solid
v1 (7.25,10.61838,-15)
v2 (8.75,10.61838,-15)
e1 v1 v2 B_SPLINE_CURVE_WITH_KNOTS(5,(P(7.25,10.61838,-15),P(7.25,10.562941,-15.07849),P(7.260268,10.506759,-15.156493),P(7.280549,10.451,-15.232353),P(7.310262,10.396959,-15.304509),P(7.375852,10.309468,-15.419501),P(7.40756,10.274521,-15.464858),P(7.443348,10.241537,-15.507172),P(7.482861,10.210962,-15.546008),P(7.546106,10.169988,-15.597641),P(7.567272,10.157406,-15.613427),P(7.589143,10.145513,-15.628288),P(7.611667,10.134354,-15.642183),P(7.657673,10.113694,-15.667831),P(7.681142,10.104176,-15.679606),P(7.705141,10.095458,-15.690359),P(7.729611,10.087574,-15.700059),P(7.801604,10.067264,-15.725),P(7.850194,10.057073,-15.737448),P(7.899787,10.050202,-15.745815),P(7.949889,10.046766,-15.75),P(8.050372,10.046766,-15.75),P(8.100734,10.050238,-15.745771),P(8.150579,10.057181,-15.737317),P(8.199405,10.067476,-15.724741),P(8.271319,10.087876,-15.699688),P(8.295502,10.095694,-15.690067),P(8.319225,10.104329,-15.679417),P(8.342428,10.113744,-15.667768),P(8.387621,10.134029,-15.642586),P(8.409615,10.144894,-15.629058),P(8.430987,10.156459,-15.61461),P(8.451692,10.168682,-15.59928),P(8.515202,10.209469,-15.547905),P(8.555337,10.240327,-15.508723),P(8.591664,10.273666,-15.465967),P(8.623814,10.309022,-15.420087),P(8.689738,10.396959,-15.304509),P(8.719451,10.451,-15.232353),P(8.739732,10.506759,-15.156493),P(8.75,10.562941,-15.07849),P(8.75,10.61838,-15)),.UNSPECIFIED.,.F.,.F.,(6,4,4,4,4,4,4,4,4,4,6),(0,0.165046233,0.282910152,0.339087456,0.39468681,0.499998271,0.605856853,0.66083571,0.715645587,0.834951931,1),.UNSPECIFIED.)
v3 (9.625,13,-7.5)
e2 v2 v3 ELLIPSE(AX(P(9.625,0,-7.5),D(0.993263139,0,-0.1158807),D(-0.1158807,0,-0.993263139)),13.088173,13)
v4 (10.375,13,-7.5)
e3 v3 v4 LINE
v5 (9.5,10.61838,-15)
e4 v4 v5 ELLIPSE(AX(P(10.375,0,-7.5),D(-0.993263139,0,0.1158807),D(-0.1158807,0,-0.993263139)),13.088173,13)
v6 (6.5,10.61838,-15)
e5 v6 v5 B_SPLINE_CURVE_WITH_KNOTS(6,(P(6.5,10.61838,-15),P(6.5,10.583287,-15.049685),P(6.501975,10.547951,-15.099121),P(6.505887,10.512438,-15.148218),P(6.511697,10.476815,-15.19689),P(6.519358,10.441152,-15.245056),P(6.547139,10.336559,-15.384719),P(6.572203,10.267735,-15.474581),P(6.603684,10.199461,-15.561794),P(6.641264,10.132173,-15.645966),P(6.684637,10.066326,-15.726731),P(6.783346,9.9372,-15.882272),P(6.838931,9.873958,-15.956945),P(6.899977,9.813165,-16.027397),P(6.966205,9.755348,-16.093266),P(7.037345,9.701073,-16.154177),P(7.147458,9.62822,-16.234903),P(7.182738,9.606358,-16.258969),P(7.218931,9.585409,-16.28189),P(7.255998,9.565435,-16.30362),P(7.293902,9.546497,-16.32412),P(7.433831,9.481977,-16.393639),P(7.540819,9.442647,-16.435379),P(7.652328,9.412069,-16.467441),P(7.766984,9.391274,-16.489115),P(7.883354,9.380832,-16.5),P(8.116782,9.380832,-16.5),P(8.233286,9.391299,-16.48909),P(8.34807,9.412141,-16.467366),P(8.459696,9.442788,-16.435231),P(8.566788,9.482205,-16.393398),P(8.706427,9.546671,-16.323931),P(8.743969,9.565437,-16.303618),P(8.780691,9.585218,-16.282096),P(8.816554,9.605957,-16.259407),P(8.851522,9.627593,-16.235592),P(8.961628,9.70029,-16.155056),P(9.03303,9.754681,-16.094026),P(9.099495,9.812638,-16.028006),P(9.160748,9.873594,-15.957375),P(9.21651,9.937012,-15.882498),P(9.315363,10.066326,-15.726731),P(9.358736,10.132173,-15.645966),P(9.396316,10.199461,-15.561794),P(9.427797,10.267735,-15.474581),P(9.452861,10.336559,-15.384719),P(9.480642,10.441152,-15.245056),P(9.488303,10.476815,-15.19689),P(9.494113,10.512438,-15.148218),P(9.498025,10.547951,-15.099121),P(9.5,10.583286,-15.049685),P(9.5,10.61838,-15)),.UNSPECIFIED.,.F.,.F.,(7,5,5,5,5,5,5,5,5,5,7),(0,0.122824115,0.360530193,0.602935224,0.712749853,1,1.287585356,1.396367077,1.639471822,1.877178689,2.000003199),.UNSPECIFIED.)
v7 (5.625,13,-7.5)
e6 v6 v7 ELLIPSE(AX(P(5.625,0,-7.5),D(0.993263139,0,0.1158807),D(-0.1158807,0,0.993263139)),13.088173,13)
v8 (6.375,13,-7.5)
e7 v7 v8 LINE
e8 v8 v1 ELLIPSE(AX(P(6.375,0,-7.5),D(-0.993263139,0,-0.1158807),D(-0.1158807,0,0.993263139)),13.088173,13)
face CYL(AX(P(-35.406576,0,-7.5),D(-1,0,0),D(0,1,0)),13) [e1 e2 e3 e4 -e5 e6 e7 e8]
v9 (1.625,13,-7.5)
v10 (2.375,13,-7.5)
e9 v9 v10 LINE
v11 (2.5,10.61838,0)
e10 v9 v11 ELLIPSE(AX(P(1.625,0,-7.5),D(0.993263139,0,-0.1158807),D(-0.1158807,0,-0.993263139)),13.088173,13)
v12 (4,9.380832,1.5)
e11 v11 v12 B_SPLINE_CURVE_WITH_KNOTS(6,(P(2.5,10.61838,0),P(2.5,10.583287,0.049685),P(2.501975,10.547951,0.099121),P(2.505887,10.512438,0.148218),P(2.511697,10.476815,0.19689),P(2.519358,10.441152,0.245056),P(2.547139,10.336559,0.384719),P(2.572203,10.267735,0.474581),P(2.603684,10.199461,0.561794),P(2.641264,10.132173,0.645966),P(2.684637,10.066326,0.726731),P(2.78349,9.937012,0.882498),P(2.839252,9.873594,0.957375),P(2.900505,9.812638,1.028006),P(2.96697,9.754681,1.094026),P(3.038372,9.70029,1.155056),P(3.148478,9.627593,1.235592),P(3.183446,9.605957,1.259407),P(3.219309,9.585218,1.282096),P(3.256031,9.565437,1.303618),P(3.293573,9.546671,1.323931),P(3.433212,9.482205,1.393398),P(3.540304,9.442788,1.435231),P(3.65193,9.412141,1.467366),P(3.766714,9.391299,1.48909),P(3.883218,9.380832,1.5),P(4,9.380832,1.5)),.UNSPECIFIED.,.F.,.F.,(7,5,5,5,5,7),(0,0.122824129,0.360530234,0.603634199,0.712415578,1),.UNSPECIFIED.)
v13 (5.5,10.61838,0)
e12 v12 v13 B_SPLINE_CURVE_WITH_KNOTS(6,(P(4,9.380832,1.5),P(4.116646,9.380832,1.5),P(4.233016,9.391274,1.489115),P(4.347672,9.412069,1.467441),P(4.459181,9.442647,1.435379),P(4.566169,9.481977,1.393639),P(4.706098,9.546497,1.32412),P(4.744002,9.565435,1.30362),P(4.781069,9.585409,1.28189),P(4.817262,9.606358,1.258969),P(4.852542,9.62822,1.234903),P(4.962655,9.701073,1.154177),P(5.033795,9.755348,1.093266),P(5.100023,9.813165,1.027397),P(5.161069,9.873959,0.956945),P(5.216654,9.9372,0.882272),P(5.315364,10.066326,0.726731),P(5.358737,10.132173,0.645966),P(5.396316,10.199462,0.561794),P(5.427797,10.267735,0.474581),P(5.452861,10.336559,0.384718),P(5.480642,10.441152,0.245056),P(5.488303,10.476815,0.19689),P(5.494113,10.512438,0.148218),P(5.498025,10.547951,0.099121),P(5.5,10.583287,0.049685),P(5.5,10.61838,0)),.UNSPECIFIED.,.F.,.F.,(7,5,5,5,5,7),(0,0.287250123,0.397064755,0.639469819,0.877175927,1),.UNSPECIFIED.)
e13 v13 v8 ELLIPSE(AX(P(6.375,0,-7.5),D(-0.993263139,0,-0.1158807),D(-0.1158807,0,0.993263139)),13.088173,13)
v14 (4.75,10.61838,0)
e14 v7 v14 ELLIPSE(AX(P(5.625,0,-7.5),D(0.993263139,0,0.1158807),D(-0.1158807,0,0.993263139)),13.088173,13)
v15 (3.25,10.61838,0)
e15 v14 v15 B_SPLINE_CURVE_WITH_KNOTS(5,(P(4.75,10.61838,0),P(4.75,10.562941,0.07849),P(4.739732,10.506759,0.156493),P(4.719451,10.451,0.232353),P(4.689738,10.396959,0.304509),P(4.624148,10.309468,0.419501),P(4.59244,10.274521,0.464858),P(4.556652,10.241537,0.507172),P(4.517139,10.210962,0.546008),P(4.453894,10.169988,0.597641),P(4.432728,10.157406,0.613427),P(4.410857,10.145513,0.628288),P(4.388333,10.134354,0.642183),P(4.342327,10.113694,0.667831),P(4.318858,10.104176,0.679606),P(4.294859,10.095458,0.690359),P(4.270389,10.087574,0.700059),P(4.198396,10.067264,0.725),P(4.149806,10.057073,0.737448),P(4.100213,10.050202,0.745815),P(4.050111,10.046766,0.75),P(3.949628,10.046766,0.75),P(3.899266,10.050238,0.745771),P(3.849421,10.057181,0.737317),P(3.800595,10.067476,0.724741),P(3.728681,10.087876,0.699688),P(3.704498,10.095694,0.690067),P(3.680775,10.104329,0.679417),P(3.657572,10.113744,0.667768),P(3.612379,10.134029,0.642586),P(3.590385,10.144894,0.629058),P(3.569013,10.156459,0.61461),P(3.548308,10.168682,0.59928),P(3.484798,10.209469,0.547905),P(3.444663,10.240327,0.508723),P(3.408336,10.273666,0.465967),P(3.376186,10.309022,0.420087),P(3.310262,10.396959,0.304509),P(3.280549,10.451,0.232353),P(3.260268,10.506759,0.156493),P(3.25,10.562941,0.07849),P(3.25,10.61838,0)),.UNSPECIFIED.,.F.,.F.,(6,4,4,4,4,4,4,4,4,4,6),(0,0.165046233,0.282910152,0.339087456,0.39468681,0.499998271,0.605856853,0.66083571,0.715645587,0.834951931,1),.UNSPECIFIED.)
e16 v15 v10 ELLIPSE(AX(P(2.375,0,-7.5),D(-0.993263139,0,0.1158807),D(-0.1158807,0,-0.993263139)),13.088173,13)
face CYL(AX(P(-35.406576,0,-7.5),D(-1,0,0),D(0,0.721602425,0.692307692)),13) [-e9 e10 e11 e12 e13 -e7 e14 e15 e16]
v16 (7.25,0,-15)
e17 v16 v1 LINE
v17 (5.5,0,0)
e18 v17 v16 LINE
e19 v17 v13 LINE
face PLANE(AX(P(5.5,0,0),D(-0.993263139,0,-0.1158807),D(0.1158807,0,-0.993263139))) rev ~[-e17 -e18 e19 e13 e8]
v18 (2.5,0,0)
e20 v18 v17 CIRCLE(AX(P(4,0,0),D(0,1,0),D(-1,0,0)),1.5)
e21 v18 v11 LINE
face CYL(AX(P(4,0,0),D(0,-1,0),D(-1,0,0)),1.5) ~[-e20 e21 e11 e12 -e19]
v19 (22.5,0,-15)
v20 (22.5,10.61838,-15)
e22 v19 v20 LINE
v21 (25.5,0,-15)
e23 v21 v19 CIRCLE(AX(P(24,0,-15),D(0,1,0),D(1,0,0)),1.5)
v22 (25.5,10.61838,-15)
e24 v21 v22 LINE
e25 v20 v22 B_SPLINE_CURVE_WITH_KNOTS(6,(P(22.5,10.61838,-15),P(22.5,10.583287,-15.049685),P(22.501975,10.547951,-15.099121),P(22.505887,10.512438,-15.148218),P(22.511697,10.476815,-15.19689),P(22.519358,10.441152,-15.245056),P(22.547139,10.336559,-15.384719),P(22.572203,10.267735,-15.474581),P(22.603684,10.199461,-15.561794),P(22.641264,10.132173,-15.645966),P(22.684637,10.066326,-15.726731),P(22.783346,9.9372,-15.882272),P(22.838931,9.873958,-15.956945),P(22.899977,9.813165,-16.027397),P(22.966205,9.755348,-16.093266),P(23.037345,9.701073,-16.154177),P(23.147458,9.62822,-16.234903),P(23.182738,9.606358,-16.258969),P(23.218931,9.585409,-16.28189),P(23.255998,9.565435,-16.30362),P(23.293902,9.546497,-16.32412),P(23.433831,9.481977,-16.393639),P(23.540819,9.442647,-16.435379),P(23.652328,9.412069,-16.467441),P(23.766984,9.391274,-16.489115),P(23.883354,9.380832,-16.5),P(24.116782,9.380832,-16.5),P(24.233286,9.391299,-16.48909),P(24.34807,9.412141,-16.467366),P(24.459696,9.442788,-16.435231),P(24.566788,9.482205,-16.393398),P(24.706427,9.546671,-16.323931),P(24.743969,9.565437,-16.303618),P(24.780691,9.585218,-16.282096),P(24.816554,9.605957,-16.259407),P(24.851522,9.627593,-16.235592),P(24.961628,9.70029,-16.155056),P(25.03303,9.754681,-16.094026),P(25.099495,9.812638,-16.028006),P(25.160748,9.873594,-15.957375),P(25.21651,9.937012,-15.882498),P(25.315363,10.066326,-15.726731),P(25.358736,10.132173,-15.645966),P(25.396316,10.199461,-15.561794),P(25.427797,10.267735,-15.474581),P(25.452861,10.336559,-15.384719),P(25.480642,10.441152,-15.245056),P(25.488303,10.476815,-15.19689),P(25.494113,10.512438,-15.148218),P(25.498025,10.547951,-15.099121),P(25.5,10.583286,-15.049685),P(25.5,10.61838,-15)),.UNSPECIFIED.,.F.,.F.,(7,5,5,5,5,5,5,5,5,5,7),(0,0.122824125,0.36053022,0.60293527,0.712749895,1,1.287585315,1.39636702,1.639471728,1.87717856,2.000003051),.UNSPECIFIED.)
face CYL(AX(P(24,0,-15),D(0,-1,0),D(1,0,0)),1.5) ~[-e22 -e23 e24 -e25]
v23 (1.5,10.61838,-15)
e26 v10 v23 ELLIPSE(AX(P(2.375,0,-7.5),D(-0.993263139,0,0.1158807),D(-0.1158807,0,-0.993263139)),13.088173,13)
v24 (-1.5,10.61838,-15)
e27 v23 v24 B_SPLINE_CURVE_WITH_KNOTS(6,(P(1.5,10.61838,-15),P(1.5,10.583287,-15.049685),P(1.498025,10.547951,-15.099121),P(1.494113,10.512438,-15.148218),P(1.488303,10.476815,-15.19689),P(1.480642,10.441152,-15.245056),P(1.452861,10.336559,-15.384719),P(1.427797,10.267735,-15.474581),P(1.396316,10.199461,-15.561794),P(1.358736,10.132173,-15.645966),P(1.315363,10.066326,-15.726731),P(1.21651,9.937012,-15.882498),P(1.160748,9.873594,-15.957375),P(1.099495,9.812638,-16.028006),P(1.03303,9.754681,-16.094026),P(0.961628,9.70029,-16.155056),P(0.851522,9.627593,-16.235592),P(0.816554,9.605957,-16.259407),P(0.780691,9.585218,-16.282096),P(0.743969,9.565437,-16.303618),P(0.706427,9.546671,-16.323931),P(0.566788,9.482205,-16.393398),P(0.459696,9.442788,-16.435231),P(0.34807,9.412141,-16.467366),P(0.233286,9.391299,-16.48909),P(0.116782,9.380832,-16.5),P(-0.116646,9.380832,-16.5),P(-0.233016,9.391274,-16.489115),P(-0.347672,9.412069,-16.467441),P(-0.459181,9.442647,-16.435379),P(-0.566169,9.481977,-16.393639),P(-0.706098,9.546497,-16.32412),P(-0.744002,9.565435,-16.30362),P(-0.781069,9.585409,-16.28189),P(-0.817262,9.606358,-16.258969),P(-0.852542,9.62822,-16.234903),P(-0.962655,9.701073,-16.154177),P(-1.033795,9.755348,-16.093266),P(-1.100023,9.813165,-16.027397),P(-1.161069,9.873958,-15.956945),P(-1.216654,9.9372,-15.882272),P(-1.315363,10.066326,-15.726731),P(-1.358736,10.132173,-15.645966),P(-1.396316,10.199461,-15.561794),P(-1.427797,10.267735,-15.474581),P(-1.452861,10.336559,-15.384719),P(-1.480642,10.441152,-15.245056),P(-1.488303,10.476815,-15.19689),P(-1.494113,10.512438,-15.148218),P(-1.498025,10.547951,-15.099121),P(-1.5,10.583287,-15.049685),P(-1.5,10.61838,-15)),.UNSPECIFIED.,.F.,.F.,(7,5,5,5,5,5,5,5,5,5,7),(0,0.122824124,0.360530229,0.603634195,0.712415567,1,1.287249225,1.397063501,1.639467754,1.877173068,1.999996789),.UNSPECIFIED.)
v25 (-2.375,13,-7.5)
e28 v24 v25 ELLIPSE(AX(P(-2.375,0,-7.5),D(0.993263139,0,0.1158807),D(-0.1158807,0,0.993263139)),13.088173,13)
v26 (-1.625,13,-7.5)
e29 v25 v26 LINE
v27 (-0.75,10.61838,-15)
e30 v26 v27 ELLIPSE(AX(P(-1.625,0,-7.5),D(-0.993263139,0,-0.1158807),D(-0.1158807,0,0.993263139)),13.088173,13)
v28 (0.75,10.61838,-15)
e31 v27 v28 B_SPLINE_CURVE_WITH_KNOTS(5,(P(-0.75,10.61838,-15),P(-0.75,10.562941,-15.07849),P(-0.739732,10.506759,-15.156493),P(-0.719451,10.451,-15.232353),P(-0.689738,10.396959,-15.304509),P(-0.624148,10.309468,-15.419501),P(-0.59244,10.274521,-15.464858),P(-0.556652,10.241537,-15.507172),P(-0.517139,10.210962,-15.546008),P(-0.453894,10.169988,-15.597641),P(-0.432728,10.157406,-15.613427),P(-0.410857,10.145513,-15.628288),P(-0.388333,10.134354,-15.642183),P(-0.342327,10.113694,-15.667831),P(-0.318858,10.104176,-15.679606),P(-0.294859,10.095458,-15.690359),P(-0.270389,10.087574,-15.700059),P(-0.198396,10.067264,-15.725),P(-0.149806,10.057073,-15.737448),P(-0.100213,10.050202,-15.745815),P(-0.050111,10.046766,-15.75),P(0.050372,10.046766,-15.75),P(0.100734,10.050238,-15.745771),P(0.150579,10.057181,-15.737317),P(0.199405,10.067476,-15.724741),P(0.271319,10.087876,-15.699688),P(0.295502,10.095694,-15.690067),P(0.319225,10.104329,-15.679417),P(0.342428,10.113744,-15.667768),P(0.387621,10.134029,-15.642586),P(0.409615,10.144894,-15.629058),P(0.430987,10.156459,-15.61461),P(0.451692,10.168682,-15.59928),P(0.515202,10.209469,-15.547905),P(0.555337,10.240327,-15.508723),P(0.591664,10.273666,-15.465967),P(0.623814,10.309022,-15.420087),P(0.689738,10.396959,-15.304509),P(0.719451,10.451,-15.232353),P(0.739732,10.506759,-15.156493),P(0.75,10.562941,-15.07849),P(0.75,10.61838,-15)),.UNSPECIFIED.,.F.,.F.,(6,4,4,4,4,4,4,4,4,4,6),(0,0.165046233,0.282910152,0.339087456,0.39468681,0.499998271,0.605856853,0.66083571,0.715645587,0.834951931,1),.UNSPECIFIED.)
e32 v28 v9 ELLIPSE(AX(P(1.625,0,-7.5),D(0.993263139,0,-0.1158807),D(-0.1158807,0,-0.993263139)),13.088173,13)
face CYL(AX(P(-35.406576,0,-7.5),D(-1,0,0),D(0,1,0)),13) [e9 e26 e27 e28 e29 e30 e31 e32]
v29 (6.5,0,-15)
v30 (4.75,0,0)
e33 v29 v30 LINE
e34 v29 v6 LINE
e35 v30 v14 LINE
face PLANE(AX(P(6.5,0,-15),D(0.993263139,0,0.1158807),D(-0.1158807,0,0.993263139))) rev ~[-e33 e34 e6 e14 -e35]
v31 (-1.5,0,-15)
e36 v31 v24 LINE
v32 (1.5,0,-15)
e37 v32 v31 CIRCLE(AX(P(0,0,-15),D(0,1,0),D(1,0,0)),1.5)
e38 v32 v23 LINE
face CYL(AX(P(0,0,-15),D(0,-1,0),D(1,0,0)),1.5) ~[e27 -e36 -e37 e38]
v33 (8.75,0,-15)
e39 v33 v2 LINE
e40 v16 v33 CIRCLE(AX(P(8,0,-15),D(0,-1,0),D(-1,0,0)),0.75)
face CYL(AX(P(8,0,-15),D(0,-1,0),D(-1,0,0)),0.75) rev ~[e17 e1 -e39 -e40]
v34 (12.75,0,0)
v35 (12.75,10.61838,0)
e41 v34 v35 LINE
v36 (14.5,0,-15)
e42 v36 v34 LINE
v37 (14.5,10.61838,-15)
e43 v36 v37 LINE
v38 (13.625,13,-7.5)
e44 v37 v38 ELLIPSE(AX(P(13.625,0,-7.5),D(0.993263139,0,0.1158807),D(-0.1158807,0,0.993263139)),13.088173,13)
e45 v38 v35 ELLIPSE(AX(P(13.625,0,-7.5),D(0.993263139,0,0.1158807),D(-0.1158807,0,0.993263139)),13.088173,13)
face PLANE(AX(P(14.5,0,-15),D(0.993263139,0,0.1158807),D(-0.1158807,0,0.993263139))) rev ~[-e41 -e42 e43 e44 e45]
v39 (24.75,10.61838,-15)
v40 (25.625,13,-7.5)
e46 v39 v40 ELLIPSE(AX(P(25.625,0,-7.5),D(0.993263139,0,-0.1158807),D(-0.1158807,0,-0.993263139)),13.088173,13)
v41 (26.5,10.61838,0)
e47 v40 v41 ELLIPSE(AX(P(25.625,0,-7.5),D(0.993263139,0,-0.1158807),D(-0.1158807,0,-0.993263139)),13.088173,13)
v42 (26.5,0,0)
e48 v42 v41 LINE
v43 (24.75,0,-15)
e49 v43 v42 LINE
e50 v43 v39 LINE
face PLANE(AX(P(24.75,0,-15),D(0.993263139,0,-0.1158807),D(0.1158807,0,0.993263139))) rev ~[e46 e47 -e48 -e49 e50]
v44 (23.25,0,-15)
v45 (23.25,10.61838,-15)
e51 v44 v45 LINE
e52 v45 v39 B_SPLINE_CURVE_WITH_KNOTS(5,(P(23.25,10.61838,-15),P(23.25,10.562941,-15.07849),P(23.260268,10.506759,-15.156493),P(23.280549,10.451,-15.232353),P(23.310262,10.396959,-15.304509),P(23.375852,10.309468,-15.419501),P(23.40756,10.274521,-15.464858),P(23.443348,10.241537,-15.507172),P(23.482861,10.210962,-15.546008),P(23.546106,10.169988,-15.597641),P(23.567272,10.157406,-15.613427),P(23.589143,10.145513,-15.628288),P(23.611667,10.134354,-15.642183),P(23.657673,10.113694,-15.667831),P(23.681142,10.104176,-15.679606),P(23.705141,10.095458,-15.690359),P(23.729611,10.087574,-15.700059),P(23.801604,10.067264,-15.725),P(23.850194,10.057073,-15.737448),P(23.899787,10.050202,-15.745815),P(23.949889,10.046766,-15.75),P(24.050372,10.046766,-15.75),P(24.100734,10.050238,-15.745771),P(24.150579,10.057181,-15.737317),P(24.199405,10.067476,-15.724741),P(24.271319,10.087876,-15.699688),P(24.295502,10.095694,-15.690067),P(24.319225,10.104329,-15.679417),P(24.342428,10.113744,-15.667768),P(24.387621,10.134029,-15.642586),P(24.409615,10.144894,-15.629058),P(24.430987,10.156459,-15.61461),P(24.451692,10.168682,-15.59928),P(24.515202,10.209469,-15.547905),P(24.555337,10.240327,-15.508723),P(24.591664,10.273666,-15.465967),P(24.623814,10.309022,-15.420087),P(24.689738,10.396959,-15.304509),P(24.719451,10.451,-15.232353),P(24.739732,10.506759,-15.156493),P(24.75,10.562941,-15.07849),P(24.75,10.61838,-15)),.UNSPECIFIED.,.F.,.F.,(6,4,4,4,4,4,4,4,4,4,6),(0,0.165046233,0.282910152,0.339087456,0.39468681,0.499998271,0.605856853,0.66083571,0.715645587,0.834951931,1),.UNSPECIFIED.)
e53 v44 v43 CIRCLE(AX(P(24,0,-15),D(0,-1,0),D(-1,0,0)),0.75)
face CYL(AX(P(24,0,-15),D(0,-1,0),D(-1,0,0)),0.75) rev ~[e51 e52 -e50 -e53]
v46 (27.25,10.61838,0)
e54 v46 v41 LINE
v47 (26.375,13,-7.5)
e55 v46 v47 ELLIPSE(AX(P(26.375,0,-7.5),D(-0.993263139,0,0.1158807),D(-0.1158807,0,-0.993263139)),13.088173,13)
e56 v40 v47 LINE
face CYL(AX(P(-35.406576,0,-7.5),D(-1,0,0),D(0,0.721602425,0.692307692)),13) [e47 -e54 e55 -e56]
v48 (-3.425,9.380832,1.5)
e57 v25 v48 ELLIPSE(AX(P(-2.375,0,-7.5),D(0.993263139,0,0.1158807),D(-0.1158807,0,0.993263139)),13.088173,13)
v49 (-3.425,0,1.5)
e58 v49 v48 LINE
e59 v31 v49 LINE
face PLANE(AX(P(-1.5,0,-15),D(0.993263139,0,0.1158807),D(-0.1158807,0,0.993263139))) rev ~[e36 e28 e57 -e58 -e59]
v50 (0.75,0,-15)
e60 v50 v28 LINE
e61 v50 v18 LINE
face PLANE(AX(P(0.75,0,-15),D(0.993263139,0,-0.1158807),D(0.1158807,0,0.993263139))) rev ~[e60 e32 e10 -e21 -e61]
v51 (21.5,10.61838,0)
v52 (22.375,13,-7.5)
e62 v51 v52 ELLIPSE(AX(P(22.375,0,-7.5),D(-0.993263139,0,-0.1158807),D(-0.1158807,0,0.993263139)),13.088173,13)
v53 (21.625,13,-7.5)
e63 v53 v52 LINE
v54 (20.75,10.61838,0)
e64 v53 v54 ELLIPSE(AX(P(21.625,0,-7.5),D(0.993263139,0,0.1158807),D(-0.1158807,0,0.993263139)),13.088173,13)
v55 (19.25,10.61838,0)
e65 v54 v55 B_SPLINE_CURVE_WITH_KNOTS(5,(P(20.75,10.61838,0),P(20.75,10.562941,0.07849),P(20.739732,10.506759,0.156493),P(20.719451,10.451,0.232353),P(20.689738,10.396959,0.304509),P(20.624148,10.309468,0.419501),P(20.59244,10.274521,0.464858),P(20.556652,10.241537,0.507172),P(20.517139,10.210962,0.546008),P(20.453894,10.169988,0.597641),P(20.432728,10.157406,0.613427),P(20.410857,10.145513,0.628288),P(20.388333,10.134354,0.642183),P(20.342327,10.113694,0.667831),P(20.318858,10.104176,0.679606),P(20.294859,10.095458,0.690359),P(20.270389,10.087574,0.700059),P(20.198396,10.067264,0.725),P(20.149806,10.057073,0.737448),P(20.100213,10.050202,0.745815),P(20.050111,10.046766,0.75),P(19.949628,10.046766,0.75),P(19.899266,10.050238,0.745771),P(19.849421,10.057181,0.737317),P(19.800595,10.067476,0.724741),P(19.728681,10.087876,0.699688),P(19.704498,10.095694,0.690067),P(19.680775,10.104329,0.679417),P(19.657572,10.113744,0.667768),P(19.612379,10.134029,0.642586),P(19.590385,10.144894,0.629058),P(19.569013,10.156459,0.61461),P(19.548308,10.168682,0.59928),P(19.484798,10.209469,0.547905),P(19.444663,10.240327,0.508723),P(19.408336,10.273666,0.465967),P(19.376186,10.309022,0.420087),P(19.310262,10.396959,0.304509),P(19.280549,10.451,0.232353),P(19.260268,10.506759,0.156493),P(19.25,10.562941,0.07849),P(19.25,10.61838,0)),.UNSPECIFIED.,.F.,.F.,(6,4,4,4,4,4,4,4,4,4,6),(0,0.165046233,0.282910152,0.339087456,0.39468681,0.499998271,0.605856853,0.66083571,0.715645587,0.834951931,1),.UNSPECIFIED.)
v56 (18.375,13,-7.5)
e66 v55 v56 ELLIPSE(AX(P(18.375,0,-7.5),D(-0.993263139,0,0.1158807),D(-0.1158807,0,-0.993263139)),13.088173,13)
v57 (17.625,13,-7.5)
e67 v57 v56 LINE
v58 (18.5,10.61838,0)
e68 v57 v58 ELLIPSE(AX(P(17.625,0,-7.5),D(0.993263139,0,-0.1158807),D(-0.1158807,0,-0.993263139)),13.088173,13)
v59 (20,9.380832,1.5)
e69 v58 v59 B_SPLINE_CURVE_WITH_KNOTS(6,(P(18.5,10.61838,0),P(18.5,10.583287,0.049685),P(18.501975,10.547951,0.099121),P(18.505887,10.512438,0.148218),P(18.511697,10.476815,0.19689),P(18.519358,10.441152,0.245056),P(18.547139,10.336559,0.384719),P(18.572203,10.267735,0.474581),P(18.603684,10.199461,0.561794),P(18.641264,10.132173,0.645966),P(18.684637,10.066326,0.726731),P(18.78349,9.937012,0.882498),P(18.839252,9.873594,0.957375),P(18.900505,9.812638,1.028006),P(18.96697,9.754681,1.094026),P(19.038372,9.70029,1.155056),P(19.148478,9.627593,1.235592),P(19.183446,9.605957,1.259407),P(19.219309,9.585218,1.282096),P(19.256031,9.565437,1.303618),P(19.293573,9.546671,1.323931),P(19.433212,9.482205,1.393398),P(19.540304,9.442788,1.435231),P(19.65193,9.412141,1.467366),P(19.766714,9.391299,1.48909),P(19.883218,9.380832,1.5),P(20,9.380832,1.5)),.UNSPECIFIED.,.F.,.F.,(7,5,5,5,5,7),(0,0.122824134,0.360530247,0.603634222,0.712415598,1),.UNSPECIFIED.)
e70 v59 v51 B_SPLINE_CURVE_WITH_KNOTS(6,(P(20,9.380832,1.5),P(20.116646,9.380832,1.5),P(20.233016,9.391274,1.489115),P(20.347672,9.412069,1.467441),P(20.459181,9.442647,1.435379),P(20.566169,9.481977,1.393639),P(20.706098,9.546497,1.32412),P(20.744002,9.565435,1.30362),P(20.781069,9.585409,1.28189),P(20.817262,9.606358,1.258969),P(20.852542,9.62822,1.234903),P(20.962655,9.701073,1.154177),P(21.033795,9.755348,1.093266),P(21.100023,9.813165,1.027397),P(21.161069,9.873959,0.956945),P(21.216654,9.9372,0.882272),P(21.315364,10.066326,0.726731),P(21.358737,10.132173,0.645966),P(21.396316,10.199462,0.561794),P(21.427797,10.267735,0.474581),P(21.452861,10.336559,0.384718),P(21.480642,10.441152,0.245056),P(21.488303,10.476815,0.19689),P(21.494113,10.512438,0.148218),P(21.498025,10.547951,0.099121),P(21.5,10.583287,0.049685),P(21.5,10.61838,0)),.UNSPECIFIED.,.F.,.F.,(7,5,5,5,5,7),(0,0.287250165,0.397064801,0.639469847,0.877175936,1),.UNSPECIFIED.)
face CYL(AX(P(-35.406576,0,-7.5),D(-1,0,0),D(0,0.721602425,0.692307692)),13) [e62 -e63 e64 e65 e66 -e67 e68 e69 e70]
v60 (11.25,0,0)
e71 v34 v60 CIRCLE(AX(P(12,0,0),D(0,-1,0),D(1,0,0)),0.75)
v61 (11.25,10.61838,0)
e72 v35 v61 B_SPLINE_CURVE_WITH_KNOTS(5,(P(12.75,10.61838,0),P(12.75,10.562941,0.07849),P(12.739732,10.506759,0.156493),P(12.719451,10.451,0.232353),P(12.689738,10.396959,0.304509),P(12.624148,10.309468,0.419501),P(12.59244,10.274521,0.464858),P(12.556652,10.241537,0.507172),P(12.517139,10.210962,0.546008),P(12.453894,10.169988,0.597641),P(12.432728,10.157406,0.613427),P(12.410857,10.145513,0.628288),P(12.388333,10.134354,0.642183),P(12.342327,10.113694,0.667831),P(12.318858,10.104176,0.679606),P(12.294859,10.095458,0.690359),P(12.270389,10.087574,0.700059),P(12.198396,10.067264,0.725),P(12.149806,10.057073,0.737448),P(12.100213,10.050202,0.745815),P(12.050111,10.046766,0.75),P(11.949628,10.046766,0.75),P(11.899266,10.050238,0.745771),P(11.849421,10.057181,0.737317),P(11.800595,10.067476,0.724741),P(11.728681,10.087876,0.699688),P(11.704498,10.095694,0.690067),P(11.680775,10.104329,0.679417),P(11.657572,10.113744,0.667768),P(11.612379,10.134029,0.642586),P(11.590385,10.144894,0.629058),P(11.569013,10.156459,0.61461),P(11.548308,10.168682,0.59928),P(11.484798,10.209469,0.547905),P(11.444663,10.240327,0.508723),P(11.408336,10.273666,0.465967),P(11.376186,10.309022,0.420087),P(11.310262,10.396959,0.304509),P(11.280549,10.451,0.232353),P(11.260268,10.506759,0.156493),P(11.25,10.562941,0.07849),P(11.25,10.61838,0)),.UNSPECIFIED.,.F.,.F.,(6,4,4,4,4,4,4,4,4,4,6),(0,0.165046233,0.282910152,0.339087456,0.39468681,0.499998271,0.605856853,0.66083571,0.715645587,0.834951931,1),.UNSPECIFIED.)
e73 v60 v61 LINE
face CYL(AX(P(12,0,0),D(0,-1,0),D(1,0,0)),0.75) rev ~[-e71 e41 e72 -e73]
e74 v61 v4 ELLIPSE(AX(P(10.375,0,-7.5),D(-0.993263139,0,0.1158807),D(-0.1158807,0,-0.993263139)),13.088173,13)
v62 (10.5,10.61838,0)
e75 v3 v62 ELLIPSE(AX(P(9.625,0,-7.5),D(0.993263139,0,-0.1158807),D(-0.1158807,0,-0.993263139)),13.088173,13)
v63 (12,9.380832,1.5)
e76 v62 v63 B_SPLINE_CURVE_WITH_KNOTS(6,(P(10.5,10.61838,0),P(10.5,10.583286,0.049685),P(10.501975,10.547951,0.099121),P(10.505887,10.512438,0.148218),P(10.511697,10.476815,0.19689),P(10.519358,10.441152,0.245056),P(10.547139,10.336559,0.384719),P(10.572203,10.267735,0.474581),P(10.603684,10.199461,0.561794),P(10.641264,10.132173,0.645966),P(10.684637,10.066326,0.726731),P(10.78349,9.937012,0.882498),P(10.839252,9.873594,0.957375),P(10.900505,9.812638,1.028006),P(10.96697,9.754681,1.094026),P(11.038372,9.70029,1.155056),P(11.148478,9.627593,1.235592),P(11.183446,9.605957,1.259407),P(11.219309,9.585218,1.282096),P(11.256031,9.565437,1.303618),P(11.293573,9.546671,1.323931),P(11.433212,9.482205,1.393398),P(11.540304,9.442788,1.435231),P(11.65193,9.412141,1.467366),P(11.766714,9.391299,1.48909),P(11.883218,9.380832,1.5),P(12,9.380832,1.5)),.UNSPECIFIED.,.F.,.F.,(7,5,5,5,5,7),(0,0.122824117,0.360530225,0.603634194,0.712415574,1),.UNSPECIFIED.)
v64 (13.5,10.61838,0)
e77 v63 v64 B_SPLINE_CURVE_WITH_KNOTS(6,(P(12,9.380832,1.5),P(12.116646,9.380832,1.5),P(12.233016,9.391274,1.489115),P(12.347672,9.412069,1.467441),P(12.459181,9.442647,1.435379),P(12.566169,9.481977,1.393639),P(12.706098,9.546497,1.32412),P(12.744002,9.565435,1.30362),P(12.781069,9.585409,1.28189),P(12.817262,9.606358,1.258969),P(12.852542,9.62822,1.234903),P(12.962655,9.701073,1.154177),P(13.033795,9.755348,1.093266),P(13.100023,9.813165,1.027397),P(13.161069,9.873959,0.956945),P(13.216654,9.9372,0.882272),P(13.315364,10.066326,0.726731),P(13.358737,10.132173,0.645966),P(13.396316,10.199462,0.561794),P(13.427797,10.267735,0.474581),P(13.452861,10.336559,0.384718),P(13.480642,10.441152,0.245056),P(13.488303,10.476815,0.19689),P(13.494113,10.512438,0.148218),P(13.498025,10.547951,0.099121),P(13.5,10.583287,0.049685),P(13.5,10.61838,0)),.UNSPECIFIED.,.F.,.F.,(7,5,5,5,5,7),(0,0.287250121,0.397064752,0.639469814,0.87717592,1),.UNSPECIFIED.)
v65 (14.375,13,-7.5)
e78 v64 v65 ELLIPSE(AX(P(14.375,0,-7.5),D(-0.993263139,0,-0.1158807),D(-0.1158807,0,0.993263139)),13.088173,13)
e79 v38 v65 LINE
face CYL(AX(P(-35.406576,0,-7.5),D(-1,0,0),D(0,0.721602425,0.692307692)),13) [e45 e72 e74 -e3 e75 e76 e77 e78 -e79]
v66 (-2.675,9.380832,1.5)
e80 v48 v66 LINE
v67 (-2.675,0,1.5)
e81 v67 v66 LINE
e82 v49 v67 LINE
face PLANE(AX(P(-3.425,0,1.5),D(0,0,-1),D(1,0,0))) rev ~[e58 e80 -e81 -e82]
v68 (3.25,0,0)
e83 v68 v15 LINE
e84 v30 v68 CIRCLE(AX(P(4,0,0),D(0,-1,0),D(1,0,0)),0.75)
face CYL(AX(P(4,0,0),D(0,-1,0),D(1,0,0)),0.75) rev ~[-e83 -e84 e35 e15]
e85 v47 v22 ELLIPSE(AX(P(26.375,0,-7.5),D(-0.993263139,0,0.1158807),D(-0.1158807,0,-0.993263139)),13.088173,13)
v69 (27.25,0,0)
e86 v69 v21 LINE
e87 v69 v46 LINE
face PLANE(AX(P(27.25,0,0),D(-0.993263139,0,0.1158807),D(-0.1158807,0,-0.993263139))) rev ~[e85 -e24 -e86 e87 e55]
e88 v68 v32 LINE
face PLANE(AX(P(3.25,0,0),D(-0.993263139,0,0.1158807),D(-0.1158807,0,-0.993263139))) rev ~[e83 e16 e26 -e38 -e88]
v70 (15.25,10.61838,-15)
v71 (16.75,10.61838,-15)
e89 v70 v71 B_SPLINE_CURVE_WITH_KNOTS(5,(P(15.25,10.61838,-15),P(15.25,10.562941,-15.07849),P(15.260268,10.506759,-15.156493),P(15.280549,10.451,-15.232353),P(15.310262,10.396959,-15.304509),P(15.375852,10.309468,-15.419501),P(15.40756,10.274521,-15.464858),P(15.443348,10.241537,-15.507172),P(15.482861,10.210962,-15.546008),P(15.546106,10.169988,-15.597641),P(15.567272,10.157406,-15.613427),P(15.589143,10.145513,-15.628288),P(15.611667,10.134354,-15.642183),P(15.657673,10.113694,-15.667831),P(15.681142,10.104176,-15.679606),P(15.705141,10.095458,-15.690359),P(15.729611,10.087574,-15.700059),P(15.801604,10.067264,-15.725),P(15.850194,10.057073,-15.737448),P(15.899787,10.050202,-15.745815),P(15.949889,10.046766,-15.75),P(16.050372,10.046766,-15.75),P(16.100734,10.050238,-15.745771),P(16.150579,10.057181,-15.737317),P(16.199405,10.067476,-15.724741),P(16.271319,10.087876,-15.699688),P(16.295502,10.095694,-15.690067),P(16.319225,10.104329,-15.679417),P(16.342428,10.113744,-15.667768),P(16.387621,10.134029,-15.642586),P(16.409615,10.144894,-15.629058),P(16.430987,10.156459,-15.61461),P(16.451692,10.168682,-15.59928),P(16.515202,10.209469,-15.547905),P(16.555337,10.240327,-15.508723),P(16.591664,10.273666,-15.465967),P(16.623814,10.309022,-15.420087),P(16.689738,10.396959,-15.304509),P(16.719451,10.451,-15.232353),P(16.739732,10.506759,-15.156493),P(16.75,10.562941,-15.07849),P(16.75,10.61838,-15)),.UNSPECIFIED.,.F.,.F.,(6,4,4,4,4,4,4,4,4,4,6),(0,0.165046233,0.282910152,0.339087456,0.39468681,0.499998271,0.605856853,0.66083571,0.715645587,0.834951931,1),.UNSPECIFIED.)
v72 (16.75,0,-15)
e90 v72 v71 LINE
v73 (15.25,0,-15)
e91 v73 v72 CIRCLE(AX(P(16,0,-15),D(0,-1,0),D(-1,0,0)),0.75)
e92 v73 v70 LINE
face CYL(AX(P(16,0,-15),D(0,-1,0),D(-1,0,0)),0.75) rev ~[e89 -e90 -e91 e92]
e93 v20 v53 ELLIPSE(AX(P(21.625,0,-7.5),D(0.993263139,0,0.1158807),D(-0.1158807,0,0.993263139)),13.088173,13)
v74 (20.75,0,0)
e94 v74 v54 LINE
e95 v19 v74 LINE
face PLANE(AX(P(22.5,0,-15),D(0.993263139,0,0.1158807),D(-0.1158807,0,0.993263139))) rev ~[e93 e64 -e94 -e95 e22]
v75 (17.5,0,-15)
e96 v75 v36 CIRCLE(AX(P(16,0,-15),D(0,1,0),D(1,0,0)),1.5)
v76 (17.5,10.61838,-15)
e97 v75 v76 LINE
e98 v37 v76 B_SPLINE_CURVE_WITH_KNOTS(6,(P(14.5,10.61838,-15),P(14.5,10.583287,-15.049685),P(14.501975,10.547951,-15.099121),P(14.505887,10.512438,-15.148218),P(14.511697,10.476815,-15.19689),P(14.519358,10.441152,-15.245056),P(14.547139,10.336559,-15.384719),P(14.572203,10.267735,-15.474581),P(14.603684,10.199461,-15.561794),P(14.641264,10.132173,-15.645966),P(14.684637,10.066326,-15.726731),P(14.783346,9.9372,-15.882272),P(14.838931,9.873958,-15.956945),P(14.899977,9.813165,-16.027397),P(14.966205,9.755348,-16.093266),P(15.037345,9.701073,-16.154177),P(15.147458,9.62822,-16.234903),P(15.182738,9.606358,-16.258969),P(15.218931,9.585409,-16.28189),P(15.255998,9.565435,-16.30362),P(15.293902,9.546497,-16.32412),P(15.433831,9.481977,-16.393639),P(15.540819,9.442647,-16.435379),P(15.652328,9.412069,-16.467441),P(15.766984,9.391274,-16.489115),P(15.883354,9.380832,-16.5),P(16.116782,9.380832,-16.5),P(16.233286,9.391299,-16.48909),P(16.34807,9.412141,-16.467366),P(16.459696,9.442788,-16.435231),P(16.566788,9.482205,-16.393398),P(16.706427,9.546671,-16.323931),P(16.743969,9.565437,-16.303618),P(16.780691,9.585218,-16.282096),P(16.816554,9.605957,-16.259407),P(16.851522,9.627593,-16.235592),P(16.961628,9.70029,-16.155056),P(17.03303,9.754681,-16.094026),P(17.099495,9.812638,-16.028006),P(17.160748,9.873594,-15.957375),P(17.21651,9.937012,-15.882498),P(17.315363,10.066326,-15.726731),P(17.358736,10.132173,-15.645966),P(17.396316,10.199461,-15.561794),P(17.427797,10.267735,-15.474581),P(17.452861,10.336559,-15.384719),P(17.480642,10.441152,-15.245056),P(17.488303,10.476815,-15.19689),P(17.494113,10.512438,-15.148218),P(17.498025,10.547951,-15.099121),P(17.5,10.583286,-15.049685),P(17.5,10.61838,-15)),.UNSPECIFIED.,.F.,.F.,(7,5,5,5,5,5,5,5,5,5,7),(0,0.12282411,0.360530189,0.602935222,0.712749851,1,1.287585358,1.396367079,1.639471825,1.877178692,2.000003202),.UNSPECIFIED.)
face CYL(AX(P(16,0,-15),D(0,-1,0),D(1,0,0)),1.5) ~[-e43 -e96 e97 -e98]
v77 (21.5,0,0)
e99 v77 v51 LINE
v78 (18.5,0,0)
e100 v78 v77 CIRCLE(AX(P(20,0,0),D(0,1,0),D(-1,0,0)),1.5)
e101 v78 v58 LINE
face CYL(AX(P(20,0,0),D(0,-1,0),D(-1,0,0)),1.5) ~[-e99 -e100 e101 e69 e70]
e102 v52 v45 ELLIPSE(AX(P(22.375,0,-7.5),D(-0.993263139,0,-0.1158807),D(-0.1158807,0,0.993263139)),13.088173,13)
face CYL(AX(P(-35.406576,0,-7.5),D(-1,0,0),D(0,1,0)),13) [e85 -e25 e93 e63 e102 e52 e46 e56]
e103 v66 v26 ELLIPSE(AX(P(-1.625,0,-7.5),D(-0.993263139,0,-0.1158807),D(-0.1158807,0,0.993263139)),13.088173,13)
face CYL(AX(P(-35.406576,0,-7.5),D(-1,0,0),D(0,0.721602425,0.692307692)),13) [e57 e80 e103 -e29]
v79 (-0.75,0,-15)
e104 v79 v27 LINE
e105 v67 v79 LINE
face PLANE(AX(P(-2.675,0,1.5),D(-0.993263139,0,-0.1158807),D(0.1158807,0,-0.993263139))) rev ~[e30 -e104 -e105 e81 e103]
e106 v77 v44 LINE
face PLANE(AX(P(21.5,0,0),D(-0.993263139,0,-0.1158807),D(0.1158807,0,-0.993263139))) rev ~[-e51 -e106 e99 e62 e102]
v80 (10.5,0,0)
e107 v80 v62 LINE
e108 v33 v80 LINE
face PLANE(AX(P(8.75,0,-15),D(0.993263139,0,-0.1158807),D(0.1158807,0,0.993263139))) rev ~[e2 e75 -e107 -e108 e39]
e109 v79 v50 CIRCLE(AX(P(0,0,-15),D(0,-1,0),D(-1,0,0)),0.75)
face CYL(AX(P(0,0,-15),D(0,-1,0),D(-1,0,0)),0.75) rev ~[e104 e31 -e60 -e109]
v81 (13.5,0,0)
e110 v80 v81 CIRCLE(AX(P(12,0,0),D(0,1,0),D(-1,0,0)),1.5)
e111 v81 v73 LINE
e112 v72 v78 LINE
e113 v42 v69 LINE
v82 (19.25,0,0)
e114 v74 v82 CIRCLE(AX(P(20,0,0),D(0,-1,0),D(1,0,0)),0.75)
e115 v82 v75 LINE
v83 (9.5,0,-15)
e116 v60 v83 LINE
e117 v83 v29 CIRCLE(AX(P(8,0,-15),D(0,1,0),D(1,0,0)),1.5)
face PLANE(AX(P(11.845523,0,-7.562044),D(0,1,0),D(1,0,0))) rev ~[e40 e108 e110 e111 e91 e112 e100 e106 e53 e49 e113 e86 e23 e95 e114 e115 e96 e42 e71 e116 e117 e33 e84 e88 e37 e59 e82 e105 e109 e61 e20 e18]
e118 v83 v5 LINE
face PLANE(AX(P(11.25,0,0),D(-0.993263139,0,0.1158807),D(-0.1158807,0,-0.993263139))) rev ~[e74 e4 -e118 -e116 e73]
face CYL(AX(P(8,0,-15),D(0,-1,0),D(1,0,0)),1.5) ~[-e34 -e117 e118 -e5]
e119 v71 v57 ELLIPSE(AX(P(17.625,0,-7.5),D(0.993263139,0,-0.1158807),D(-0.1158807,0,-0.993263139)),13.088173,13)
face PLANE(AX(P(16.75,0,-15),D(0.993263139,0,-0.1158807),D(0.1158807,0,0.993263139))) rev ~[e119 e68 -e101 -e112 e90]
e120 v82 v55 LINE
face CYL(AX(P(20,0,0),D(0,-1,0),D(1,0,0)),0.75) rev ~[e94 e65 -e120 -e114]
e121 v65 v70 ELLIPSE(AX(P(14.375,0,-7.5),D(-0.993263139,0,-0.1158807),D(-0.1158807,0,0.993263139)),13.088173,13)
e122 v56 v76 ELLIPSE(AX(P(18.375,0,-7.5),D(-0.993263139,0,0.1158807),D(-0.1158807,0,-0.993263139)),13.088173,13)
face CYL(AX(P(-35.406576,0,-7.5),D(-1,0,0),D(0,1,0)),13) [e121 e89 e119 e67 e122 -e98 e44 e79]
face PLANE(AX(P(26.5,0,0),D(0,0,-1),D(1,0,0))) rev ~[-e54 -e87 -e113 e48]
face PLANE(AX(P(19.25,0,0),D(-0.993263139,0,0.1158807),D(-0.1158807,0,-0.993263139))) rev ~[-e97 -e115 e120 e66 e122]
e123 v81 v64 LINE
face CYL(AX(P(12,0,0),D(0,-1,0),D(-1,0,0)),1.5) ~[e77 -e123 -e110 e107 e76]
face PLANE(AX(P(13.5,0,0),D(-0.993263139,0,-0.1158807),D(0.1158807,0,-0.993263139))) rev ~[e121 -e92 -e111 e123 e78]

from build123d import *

# Parameters (mm, degrees)
EXTRUDE_2_DEPTH          = 13
CUT_EXTRUDE_1_DEPTH      = 35.406576406
CUT_EXTRUDE_1_DEPTH_BACK = 35.406576406


with BuildPart() as part:
    # 草图1 → 凸台-拉伸2 (new body)
    with BuildSketch(Plane(origin=(0, 0, 0), x_dir=(1, 0, 0), z_dir=(0, 1, 0))):
        with BuildLine():
            Line((0.75, 15), (2.5, 0))
            ThreePointArc((2.5, 0), (4, -1.5), (5.5, 0))
            Line((5.5, 0), (7.25, 15))
            ThreePointArc((7.25, 15), (8, 15.75), (8.75, 15))
            Line((8.75, 15), (10.5, 0))
            ThreePointArc((10.5, 0), (12, -1.5), (13.5, 0))
            Line((13.5, 0), (15.25, 15))
            ThreePointArc((15.25, 15), (16, 15.75), (16.75, 15))
            Line((16.75, 15), (18.5, 0))
            ThreePointArc((18.5, 0), (20, -1.5), (21.5, 0))
            Line((21.5, 0), (23.25, 15))
            ThreePointArc((23.25, 15), (24, 15.75), (24.75, 15))
            Line((24.75, 15), (26.5, 0))
            Line((26.5, 0), (27.25, 0))
            Line((27.25, 0), (25.5, 15))
            ThreePointArc((25.5, 15), (24, 16.5), (22.5, 15))
            Line((22.5, 15), (20.75, 0))
            ThreePointArc((20.75, 0), (20, -0.75), (19.25, 0))
            Line((19.25, 0), (17.5, 15))
            ThreePointArc((17.5, 15), (16, 16.5), (14.5, 15))
            Line((14.5, 15), (12.75, 0))
            ThreePointArc((12.75, 0), (12, -0.75), (11.25, 0))
            Line((11.25, 0), (9.5, 15))
            ThreePointArc((9.5, 15), (8, 16.5), (6.5, 15))
            Line((6.5, 15), (4.75, 0))
            ThreePointArc((4.75, 0), (4, -0.75), (3.25, 0))
            Line((3.25, 0), (1.5, 15))
            ThreePointArc((1.5, 15), (0, 16.5), (-1.5, 15))
            Line((-1.5, 15), (-3.425, -1.5))
            Line((-3.425, -1.5), (-2.675, -1.5))
            Line((-2.675, -1.5), (-0.75, 15))
            ThreePointArc((-0.75, 15), (0, 15.75), (0.75, 15))
        make_face()
    extrude(amount=EXTRUDE_2_DEPTH)

    # 草图2 → 切除-拉伸1 (cut, two sides: drawn at the far end of the back side and taken through both)
    with BuildSketch(Plane(origin=(0, 0, 0), x_dir=(0, 0, -1), z_dir=(1, 0, 0)).offset(-CUT_EXTRUDE_1_DEPTH_BACK)):
        with BuildLine():
            Line((7.5, 13), (-1.5, 13))
            Line((-1.5, 13), (-1.5, 9.38083152))
            ThreePointArc((-1.5, 9.38083152), (2.649784013, 12.061318538), (7.5, 13))
        make_face()
        with BuildLine():
            Line((16.5, 13), (7.5, 13))
            ThreePointArc((7.5, 13), (12.350215987, 12.061318538), (16.5, 9.38083152))
            Line((16.5, 9.38083152), (16.5, 13))
        make_face()
    extrude(amount=CUT_EXTRUDE_1_DEPTH + CUT_EXTRUDE_1_DEPTH_BACK, mode=Mode.SUBTRACT)


solid = part.part
